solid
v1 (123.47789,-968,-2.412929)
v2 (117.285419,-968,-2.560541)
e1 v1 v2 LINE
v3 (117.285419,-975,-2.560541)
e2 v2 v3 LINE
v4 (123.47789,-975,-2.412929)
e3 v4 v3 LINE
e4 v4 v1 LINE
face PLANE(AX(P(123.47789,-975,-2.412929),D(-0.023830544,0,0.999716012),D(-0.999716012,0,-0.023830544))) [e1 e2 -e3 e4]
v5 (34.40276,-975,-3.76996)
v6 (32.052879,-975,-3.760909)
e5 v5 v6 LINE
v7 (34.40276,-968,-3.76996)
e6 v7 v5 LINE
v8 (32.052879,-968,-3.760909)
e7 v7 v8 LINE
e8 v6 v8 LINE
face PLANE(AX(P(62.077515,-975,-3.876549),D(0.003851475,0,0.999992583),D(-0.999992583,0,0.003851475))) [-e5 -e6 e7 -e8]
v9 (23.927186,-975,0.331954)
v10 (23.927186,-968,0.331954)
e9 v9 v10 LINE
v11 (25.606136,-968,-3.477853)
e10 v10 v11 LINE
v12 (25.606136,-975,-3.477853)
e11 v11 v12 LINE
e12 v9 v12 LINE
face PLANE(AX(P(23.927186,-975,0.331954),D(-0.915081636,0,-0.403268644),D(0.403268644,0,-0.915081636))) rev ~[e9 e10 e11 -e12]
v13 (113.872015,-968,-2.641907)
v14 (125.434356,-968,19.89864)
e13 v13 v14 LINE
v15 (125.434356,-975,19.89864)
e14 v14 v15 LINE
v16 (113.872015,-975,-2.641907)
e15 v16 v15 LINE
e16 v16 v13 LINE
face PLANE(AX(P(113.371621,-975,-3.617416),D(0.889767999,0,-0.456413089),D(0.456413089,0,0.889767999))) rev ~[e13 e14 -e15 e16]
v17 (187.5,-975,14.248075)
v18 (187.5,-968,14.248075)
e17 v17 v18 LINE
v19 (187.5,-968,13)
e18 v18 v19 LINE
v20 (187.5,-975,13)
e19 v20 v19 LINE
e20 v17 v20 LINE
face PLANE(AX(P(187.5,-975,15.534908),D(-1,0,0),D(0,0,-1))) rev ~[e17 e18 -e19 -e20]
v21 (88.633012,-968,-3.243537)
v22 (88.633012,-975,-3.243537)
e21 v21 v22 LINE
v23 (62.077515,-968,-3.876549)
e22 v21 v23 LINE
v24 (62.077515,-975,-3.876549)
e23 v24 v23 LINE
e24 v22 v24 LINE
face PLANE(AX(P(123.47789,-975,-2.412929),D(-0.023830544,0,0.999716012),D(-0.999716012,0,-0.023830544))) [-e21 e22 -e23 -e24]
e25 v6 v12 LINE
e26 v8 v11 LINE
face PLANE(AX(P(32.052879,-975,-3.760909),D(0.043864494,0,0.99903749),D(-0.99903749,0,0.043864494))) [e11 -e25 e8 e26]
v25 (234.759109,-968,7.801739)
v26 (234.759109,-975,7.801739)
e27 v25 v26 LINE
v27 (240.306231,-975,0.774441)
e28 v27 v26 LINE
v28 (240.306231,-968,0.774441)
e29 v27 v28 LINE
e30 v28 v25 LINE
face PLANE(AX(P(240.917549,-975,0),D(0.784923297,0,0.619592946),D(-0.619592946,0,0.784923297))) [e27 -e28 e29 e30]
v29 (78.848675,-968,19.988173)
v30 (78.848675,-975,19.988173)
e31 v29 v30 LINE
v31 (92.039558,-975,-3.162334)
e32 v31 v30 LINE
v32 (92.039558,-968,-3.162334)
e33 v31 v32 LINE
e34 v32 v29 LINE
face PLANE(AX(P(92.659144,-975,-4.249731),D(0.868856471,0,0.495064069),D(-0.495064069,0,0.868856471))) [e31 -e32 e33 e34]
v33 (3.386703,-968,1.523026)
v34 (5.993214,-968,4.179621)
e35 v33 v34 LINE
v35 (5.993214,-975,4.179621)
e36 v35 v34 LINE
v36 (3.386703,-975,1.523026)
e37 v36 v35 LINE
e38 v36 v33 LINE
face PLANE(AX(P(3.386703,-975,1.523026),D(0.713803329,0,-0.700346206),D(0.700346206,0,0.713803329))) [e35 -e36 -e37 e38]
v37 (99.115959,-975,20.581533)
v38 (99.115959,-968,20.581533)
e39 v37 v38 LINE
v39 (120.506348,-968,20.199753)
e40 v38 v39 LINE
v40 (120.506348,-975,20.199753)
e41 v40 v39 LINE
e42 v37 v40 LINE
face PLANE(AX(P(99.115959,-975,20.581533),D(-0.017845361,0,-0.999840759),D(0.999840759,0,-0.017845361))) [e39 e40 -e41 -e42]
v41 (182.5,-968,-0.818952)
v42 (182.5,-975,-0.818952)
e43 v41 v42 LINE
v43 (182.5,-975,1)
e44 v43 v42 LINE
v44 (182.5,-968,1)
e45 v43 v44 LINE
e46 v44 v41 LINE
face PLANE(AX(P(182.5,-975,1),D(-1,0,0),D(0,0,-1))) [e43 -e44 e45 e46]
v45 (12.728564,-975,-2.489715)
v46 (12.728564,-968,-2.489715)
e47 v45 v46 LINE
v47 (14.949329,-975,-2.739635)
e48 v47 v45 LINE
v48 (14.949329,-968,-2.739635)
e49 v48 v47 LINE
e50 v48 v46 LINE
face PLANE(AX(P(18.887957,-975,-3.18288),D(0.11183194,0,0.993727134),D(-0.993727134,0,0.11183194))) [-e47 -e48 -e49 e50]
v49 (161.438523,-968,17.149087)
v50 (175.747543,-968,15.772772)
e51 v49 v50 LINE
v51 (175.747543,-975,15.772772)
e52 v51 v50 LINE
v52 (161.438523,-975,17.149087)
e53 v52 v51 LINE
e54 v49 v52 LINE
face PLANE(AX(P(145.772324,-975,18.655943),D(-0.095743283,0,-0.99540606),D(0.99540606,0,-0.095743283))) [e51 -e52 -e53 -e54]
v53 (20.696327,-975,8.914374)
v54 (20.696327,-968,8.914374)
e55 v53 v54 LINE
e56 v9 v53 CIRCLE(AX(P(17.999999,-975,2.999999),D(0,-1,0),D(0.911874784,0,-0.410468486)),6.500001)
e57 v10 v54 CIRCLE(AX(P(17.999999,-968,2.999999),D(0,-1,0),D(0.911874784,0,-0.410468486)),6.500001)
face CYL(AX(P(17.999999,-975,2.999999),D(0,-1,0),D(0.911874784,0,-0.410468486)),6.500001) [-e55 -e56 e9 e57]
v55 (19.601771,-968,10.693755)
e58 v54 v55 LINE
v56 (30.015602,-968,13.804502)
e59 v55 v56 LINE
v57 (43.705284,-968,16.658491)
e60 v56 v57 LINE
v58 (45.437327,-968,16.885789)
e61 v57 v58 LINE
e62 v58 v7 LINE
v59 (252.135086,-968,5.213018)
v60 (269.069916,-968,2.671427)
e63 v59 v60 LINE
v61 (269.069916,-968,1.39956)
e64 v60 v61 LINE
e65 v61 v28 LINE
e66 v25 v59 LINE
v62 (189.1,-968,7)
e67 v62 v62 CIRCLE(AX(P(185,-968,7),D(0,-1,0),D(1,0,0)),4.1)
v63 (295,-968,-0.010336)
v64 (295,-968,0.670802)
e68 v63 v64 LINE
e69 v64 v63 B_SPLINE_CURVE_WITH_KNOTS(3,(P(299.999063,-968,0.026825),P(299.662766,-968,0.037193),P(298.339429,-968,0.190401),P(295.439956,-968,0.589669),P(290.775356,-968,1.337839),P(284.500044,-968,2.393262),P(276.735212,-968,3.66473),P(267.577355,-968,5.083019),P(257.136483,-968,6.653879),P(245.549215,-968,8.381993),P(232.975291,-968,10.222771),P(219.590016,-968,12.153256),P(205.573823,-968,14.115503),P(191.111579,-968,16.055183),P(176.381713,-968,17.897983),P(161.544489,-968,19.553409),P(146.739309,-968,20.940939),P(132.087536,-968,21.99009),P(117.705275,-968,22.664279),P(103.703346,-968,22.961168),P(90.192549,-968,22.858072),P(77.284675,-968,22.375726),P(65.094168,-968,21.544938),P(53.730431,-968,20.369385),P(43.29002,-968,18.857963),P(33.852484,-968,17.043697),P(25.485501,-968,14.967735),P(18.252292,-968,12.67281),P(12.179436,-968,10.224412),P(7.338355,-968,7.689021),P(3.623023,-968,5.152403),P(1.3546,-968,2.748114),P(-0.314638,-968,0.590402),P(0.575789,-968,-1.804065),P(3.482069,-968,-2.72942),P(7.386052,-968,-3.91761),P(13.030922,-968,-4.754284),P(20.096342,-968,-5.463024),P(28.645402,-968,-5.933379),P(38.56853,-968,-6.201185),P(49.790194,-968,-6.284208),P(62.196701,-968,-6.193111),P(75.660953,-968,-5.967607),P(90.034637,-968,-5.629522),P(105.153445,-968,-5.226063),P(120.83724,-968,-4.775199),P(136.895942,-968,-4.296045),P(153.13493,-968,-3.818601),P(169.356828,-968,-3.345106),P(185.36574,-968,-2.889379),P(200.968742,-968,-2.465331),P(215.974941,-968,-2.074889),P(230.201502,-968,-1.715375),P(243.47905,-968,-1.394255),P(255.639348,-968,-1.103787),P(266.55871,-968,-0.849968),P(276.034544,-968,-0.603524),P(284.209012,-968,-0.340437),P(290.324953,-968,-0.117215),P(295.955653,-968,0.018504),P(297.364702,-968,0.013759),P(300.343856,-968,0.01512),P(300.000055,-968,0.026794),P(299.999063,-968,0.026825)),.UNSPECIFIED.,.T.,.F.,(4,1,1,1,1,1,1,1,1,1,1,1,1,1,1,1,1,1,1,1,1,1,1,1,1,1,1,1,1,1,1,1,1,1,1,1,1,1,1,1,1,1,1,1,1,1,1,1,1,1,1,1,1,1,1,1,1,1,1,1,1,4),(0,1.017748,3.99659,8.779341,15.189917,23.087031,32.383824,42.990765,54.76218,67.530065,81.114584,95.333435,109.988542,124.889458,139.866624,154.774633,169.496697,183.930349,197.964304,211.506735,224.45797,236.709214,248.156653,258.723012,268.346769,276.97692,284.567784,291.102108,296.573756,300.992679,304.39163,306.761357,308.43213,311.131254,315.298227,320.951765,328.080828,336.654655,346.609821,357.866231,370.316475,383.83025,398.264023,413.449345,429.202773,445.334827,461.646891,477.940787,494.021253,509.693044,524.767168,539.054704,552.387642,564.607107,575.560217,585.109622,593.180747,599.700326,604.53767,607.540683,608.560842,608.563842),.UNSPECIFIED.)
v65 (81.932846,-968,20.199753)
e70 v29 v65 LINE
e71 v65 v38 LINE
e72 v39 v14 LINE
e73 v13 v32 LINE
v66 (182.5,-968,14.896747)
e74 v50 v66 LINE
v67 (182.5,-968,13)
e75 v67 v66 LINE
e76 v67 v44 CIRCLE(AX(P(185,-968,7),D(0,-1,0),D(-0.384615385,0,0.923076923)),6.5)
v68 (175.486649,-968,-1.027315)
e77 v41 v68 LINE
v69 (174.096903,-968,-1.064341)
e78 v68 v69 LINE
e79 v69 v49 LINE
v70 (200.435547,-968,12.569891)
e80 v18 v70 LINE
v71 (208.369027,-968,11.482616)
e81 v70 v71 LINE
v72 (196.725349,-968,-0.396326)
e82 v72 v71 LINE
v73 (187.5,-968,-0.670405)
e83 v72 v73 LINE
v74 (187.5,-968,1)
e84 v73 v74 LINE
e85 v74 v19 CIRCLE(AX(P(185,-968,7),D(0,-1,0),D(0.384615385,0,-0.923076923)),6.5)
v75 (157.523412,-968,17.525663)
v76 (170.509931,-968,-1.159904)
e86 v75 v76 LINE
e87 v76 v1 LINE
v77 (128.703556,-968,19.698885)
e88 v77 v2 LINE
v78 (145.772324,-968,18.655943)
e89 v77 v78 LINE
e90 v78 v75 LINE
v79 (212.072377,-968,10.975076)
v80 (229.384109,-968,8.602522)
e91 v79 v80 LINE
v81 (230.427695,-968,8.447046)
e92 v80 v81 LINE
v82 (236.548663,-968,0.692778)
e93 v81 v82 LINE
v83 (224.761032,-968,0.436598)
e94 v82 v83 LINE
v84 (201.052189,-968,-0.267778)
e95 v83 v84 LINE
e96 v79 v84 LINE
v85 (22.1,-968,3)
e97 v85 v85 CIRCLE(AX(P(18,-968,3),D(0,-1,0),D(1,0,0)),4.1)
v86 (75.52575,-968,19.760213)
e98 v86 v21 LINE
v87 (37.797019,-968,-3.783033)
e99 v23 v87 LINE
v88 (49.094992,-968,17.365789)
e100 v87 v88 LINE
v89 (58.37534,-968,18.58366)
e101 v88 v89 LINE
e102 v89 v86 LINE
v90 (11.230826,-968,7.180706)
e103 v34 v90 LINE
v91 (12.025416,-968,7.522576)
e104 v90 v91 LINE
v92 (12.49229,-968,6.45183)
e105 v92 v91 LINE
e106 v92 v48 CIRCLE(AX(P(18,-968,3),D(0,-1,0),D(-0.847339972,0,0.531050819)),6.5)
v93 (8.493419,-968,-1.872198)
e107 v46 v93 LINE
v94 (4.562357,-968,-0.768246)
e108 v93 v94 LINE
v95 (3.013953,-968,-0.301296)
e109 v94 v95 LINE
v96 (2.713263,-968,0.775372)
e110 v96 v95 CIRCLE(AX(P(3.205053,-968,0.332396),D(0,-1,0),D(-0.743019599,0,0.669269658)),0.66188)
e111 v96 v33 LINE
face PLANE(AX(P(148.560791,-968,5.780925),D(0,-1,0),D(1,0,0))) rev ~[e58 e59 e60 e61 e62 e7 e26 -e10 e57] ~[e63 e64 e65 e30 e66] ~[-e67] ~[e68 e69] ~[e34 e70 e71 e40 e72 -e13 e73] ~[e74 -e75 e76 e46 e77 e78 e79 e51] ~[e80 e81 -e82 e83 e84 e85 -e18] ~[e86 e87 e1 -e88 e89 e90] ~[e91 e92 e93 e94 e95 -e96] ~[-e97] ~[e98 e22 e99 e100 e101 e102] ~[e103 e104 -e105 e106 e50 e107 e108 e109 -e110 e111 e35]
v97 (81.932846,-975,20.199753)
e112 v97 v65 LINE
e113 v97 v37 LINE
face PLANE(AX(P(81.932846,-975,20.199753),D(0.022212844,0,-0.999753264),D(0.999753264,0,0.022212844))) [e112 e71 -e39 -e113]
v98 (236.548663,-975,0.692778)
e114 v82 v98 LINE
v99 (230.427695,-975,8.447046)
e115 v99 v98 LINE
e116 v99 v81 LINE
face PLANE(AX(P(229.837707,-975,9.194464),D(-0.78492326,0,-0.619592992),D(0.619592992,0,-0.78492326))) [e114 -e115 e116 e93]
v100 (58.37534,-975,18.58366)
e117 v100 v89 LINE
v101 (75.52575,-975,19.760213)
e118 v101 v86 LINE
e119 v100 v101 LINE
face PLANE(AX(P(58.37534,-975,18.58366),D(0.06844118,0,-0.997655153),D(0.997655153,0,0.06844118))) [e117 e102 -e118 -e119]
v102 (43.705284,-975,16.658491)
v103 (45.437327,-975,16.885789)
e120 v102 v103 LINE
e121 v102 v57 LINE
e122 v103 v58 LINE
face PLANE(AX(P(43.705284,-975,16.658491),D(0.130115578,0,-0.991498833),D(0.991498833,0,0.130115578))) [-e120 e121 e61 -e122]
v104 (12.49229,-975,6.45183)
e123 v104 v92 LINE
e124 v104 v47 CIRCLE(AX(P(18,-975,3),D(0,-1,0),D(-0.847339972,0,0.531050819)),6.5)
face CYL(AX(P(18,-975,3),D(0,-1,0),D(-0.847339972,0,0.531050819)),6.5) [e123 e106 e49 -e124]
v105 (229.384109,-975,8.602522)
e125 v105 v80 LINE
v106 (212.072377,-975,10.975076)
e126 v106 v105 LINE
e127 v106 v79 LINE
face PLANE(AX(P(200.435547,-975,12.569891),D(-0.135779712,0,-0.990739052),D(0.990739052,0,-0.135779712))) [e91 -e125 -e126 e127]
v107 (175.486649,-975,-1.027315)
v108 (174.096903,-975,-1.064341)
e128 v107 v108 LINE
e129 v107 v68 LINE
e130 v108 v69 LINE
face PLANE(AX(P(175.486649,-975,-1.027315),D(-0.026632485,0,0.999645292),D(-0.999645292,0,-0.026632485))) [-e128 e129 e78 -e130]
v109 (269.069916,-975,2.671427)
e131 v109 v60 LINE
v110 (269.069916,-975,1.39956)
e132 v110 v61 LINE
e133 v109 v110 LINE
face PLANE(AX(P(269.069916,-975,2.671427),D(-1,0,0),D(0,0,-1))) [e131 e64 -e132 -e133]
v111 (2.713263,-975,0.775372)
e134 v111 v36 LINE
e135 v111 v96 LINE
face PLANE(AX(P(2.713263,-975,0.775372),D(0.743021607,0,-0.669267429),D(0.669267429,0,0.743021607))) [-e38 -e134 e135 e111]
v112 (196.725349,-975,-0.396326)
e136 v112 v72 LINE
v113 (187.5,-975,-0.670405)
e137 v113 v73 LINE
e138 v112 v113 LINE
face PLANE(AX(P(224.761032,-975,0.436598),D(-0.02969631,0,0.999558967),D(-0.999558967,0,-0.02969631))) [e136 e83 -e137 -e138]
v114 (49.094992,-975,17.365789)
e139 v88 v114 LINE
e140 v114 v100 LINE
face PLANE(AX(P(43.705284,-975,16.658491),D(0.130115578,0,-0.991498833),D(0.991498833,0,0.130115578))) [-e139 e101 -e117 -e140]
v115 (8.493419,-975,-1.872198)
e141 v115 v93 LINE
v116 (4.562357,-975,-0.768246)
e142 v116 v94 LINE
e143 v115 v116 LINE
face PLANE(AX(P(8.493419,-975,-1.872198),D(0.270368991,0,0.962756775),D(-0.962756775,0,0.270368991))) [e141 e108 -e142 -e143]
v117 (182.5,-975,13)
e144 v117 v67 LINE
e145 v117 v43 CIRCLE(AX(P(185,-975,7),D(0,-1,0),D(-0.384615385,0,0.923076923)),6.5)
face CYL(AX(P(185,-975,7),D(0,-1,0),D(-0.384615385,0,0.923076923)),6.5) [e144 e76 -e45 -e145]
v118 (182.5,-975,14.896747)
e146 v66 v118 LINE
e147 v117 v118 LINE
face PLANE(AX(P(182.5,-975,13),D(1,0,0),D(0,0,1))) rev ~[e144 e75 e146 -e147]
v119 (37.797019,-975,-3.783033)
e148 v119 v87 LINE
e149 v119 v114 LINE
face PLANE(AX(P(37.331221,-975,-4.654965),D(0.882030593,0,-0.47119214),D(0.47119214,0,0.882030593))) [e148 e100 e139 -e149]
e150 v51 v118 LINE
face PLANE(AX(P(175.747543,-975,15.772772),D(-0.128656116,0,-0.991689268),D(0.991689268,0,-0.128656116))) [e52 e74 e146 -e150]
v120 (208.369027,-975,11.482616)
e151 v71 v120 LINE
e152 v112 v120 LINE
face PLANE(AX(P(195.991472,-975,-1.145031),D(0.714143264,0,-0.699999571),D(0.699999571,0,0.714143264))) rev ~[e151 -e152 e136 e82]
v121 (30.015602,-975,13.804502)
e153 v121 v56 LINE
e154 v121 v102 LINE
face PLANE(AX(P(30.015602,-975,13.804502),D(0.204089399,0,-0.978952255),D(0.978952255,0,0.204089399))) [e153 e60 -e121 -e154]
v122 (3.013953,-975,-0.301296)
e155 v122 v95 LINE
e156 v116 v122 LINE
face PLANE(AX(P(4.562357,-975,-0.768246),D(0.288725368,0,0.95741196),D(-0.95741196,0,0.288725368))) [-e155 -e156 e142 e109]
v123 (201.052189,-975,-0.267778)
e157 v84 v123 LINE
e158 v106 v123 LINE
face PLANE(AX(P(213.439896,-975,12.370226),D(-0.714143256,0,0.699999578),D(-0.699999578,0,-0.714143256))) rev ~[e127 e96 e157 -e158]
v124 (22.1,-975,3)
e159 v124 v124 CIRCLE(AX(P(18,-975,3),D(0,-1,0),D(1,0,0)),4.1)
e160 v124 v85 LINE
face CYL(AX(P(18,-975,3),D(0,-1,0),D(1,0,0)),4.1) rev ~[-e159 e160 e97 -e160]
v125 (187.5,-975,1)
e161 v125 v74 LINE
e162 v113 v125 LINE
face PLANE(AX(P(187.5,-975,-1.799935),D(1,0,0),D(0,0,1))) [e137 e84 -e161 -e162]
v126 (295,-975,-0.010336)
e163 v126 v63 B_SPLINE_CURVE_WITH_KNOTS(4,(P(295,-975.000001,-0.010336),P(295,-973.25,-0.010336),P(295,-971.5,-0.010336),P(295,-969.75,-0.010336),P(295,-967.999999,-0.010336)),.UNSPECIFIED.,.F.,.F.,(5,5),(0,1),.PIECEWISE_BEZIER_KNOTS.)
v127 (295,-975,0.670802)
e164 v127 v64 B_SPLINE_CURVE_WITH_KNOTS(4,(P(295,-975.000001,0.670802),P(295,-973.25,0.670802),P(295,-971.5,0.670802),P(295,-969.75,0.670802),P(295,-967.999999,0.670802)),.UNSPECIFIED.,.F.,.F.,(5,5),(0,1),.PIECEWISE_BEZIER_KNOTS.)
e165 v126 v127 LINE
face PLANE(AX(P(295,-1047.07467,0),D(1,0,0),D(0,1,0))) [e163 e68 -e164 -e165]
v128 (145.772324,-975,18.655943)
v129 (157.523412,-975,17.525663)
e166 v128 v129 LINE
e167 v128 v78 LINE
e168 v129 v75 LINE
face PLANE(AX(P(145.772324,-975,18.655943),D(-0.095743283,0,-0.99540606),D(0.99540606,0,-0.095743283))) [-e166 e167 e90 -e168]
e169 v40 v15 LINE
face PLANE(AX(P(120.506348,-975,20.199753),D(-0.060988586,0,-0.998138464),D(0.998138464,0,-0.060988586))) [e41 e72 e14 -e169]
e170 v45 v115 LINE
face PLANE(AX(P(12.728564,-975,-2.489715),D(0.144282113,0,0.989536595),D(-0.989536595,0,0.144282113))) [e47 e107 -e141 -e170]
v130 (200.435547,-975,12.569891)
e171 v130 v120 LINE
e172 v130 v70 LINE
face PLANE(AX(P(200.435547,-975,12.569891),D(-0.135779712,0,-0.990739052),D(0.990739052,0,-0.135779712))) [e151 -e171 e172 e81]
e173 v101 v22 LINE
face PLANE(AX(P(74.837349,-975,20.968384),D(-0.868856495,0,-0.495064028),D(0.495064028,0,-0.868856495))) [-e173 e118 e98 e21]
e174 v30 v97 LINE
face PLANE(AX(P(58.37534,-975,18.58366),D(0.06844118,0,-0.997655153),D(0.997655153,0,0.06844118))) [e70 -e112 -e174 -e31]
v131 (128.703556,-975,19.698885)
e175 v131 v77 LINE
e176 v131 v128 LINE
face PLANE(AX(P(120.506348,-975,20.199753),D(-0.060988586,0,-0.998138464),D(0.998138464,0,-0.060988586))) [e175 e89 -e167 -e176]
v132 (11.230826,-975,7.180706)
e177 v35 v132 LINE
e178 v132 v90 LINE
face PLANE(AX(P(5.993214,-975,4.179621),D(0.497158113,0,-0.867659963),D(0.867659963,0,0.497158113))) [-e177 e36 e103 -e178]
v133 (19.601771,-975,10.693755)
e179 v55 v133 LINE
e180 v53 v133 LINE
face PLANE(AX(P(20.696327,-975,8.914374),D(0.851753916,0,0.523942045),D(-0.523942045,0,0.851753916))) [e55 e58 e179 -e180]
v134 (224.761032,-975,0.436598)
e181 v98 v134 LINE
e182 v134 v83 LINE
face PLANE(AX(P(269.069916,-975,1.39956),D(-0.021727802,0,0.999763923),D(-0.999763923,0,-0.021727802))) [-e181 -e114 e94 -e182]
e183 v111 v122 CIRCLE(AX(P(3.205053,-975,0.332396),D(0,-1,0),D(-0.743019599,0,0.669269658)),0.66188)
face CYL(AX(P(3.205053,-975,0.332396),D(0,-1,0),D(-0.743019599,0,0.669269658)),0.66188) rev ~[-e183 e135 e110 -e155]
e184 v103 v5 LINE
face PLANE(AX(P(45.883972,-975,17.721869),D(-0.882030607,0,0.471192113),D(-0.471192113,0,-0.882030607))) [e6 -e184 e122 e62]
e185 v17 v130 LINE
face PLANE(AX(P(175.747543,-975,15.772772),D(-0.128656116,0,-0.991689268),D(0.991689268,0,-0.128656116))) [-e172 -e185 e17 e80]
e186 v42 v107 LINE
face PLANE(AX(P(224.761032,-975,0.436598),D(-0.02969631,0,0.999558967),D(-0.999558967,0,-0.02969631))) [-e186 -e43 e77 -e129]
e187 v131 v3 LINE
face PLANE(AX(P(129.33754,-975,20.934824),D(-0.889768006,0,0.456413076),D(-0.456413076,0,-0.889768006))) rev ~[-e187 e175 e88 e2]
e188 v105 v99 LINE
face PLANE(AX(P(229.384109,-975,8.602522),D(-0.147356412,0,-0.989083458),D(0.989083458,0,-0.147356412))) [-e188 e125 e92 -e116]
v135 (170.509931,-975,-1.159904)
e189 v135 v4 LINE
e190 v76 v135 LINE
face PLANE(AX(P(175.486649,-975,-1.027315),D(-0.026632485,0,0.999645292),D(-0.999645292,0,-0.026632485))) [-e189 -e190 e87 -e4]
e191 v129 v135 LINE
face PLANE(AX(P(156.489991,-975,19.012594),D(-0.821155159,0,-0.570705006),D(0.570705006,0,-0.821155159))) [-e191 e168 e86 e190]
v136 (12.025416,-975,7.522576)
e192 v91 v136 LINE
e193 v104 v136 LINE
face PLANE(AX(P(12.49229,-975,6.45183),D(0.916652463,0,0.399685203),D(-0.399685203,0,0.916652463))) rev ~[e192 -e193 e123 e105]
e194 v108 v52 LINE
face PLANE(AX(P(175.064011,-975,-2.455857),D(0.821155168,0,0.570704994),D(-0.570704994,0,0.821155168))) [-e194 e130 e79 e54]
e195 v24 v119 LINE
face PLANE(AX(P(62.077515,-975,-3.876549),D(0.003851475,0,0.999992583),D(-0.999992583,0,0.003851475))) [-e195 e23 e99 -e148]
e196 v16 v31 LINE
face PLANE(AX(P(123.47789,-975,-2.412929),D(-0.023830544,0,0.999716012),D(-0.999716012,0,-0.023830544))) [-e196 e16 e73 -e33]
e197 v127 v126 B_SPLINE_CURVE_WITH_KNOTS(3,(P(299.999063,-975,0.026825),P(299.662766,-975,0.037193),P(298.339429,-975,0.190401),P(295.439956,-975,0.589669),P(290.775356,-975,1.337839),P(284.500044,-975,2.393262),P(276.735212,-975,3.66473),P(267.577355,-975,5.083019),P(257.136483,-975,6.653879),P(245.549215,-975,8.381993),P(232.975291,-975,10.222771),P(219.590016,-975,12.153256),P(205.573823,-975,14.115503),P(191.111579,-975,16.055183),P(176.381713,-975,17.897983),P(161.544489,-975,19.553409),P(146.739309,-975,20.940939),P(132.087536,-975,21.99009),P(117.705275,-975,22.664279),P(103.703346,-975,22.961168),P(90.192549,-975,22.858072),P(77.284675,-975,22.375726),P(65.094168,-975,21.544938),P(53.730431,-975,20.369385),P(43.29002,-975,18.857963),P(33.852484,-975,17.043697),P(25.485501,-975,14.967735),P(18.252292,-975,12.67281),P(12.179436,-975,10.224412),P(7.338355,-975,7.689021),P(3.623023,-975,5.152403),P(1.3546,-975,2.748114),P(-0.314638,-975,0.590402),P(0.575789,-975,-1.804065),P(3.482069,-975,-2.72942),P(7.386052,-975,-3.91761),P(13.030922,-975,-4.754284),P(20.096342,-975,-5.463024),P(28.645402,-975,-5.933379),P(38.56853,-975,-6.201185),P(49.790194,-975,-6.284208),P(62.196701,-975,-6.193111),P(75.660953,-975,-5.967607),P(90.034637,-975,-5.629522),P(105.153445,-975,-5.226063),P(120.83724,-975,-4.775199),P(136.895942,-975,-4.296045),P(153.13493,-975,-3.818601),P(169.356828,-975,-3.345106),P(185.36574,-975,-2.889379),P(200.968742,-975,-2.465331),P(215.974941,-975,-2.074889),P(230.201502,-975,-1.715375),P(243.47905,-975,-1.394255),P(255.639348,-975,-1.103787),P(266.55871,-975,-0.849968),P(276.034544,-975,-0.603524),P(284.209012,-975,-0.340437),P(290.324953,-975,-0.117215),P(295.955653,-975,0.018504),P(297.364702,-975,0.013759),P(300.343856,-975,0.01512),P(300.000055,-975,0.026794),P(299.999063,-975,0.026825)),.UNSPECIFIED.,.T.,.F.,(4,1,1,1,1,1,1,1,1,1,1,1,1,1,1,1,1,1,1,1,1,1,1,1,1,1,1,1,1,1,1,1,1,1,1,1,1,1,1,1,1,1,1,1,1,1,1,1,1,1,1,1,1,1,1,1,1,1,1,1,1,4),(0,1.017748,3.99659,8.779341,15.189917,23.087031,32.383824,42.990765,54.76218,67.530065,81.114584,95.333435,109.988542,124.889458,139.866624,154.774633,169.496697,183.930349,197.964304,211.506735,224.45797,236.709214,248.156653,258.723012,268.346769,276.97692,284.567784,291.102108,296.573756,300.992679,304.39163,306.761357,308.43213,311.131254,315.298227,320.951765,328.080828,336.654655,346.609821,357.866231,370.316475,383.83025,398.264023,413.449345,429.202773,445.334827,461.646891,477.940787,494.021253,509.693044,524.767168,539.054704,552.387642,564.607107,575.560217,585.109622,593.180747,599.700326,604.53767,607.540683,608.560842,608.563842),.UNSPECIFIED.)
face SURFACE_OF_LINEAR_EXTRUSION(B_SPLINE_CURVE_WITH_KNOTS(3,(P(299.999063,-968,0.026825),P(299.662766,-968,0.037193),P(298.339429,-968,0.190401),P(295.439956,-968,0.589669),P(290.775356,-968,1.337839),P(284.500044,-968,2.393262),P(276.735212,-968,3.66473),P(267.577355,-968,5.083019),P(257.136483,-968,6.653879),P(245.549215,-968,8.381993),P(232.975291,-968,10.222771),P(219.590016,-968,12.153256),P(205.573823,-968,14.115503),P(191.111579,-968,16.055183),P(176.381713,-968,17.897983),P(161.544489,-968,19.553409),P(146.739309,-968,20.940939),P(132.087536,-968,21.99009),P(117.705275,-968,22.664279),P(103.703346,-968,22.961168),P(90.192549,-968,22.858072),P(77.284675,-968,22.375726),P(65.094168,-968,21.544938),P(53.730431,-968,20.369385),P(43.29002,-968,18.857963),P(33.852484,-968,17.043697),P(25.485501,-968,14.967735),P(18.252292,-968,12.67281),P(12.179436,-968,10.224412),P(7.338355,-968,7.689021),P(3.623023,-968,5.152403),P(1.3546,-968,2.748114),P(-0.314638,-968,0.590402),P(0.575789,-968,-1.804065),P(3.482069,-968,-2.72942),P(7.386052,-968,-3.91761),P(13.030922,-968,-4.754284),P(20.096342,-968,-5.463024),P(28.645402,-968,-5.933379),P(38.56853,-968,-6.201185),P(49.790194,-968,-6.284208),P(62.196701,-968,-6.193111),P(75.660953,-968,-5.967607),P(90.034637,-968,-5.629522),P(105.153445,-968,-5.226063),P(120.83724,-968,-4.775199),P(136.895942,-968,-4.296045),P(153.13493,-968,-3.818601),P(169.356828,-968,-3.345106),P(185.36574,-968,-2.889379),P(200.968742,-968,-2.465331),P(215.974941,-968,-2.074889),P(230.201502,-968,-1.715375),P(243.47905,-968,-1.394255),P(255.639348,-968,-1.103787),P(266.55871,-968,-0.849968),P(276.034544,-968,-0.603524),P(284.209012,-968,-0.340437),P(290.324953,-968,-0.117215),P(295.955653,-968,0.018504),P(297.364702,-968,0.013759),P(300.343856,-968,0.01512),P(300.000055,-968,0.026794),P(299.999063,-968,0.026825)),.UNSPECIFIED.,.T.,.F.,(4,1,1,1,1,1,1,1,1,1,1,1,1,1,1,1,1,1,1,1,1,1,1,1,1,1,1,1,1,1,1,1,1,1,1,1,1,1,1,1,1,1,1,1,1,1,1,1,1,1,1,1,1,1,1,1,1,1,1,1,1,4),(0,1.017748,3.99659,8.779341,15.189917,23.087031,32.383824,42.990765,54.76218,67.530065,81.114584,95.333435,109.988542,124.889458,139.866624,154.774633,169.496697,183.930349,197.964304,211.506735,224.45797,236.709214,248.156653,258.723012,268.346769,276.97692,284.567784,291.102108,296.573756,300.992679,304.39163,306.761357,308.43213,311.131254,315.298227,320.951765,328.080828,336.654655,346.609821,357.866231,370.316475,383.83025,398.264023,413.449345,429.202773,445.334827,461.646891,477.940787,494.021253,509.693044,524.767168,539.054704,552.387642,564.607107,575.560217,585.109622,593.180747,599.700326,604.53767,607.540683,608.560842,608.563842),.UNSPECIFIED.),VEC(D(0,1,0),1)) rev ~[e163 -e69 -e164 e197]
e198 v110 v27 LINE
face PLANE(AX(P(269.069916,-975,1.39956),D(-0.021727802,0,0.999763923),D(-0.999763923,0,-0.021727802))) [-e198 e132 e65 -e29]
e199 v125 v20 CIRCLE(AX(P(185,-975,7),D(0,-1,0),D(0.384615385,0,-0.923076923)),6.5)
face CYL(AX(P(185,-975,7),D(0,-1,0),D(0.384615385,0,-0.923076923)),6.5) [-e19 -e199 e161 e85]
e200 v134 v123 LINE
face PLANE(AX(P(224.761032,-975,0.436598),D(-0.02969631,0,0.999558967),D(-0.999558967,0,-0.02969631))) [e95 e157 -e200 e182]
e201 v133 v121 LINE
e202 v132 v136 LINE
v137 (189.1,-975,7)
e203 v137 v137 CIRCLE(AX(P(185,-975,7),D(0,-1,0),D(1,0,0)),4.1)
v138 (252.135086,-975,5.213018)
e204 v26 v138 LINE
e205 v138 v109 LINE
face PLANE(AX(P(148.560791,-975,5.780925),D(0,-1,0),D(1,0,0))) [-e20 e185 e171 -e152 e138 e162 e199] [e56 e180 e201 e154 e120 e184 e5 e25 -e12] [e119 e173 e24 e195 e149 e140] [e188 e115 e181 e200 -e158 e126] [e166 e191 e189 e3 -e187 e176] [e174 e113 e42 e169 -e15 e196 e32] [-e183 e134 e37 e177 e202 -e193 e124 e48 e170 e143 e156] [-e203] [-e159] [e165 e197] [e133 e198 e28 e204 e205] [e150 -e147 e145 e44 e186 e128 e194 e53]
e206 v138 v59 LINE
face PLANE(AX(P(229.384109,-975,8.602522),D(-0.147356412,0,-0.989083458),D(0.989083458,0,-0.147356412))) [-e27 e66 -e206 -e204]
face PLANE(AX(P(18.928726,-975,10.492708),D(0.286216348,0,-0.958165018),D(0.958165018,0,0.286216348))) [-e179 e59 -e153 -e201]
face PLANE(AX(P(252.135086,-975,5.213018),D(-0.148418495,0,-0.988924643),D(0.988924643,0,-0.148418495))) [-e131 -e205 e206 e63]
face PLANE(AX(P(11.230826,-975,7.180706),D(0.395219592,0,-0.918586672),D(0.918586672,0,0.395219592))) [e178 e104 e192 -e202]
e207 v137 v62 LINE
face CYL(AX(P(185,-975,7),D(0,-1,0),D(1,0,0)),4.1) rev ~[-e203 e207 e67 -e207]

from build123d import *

# Parameters (mm, degrees)
PAD057_DEPTH    = 7
POCKET079_DEPTH = 9
SKETCH140_W     = 89.545105
SKETCH140_H     = 96.443817
POCKET080_DEPTH = 2.5
SKETCH141_R     = 4.1
PAD058_DEPTH    = 7


with BuildPart() as part:
    # Sketch138 → Pad057 (new body)
    with BuildSketch(Plane.XZ):
        with BuildLine():
            add(Edge.make_bspline(
                [(299.999063, 0.026825), (299.662766, 0.037193), (298.339429, 0.190401), (295.439956, 0.589669), (290.775356, 1.337839), (284.500044, 2.393262), (276.735212, 3.66473), (267.577355, 5.083019), (257.136483, 6.653879), (245.549215, 8.381993), (232.975291, 10.222771), (219.590016, 12.153256), (205.573823, 14.115503), (191.111579, 16.055183), (176.381713, 17.897983), (161.544489, 19.553409), (146.739309, 20.940939), (132.087536, 21.99009), (117.705275, 22.664279), (103.703346, 22.961168), (90.192549, 22.858072), (77.284675, 22.375726), (65.094168, 21.544938), (53.730431, 20.369385), (43.29002, 18.857963), (33.852484, 17.043697), (25.485501, 14.967735), (18.252292, 12.67281), (12.179436, 10.224412), (7.338355, 7.689021), (3.623023, 5.152403), (1.3546, 2.748114), (-0.314638, 0.590402), (0.575789, -1.804065), (3.482069, -2.72942), (7.386052, -3.91761), (13.030922, -4.754284), (20.096342, -5.463024), (28.645402, -5.933379), (38.56853, -6.201185), (49.790194, -6.284208), (62.196701, -6.193111), (75.660953, -5.967607), (90.034637, -5.629522), (105.153445, -5.226063), (120.83724, -4.775199), (136.895942, -4.296045), (153.13493, -3.818601), (169.356828, -3.345106), (185.36574, -2.889379), (200.968742, -2.465331), (215.974941, -2.074889), (230.201502, -1.715375), (243.47905, -1.394255), (255.639348, -1.103787), (266.55871, -0.849968), (276.034544, -0.603524), (284.209012, -0.340437), (290.324953, -0.117215), (295.955653, 0.018504), (297.364702, 0.013759), (300.343856, 0.01512), (300.000055, 0.026794), (299.999063, 0.026825)],
                knots=[0, 0, 0, 0, 1.017748, 3.99659, 8.779341, 15.189917, 23.087031, 32.383824, 42.990765, 54.76218, 67.530065, 81.114584, 95.333435, 109.988542, 124.889458, 139.866624, 154.774633, 169.496697, 183.930349, 197.964304, 211.506735, 224.45797, 236.709214, 248.156653, 258.723012, 268.346769, 276.97692, 284.567784, 291.102108, 296.573756, 300.992679, 304.39163, 306.761357, 308.43213, 311.131254, 315.298227, 320.951765, 328.080828, 336.654655, 346.609821, 357.866231, 370.316475, 383.83025, 398.264023, 413.449345, 429.202773, 445.334827, 461.646891, 477.940787, 494.021253, 509.693044, 524.767168, 539.054704, 552.387642, 564.607107, 575.560217, 585.109622, 593.180747, 599.700326, 604.53767, 607.540683, 608.560842, 608.563842, 608.563842, 608.563842, 608.563842], degree=3))
        make_face()
    extrude(amount=PAD057_DEPTH)

    # Sketch139 (on Face3 of Pad057) → Pocket079 (cut)
    with BuildSketch(Plane.XZ.offset(7)):
        with BuildLine():
            Line((2.713263, 0.775372), (3.386703, 1.523026))
            Line((3.386703, 1.523026), (5.993214, 4.179621))
            Line((5.993214, 4.179621), (11.230826, 7.180706))
            Line((11.230826, 7.180706), (18.928726, 10.492708))
            Line((18.928726, 10.492708), (30.015602, 13.804502))
            Line((30.015602, 13.804502), (43.705284, 16.658491))
            Line((43.705284, 16.658491), (58.37534, 18.58366))
            Line((58.37534, 18.58366), (81.932846, 20.199753))
            Line((81.932846, 20.199753), (99.115959, 20.581533))
            Line((99.115959, 20.581533), (120.506348, 20.199753))
            Line((120.506348, 20.199753), (145.772324, 18.655943))
            Line((145.772324, 18.655943), (175.747543, 15.772772))
            Line((175.747543, 15.772772), (200.435547, 12.569891))
            Line((200.435547, 12.569891), (229.384109, 8.602522))
            Line((229.384109, 8.602522), (252.135086, 5.213018))
            Line((252.135086, 5.213018), (269.069916, 2.671427))
            Line((269.069916, 2.671427), (269.069916, 1.39956))
            Line((269.069916, 1.39956), (224.761032, 0.436598))
            Line((224.761032, 0.436598), (175.486649, -1.027315))
            Line((175.486649, -1.027315), (123.47789, -2.412929))
            Line((123.47789, -2.412929), (62.077515, -3.876549))
            Line((62.077515, -3.876549), (32.052879, -3.760909))
            Line((32.052879, -3.760909), (18.887957, -3.18288))
            Line((18.887957, -3.18288), (12.728564, -2.489715))
            Line((12.728564, -2.489715), (8.493419, -1.872198))
            Line((8.493419, -1.872198), (4.562357, -0.768246))
            Line((4.562357, -0.768246), (3.013953, -0.301296))
            ThreePointArc((2.713263, 0.775372), (2.567567, 0.15436), (3.013953, -0.301296))
        make_face()
    extrude(amount=-POCKET079_DEPTH, mode=Mode.SUBTRACT)

    # Sketch140 → Pocket080 (cut, symmetric)
    with BuildSketch(Plane.XY):
        with Locations((339.772552, -30.852761)):
            Rectangle(SKETCH140_W, SKETCH140_H)
    extrude(amount=POCKET080_DEPTH, both=True, mode=Mode.SUBTRACT)

    # Sketch141 (on Face4 of Pocket080) → Pad058 (join)
    with BuildSketch(Plane.XZ.offset(7)):
        Polygon((45.883972, 17.721869), (33.929979, -4.654965), (37.331221, -4.654965), (49.864502, 18.806244), align=None)
        with BuildLine():
            ThreePointArc((12.49229, 6.45183), (11.877033, 0.818423), (15.915785, -3.156789))
            Line((15.915785, -3.156789), (16.615922, -4.582716))
            Line((16.615922, -4.582716), (26.093039, -4.582716))
            Line((23.927186, 0.331954), (26.093039, -4.582716))
            ThreePointArc((23.927186, 0.331954), (24.083233, 5.290038), (20.696327, 8.914374))
            Line((20.696327, 8.914374), (19.191151, 11.361285))
            Line((11.725203, 8.211095), (19.191151, 11.361285))
            Line((12.49229, 6.45183), (11.725203, 8.211095))
        make_face()
        with Locations((18, 3)):
            Circle(SKETCH141_R, mode=Mode.SUBTRACT)
        Polygon((74.837349, 20.968384), (89.206329, -4.249731), (92.659144, -4.249731), (78.184032, 21.154647), align=None)
        Polygon((113.371621, -3.617416), (125.992361, 20.986459), (129.33754, 20.934824), (116.743287, -3.617416), align=None)
        Polygon((156.489991, 19.012594), (171.223801, -2.187052), (175.064011, -2.455857), (160.385949, 18.663577), align=None)
        Polygon((195.991472, -1.145031), (209.190294, 12.320477), (213.439896, 12.370226), (200.19231, -1.145031), align=None)
        Polygon((229.837707, 9.194464), (237.095519, 0), (240.917549, 0), (234.226173, 8.476883), align=None)
        with BuildLine():
            ThreePointArc((182.5, 13), (178.5, 7), (182.5, 1))
            Line((182.5, 1), (182.5, -1.799935))
            Line((182.5, -1.799935), (187.5, -1.799935))
            Line((187.5, -1.799935), (187.5, 1))
            ThreePointArc((187.5, 1), (191.5, 7), (187.5, 13))
            Line((187.5, 15.534908), (187.5, 13))
            Line((182.5, 15.936711), (187.5, 15.534908))
            Line((182.5, 13), (182.5, 15.936711))
        make_face()
        with Locations((185, 7)):
            Circle(SKETCH141_R, mode=Mode.SUBTRACT)
    extrude(amount=-PAD058_DEPTH)


with BuildPart() as part_1:
    # Body033 placement: moved
    add(part.part.moved(Location((0, -968, 0))))


solid = part_1.part
